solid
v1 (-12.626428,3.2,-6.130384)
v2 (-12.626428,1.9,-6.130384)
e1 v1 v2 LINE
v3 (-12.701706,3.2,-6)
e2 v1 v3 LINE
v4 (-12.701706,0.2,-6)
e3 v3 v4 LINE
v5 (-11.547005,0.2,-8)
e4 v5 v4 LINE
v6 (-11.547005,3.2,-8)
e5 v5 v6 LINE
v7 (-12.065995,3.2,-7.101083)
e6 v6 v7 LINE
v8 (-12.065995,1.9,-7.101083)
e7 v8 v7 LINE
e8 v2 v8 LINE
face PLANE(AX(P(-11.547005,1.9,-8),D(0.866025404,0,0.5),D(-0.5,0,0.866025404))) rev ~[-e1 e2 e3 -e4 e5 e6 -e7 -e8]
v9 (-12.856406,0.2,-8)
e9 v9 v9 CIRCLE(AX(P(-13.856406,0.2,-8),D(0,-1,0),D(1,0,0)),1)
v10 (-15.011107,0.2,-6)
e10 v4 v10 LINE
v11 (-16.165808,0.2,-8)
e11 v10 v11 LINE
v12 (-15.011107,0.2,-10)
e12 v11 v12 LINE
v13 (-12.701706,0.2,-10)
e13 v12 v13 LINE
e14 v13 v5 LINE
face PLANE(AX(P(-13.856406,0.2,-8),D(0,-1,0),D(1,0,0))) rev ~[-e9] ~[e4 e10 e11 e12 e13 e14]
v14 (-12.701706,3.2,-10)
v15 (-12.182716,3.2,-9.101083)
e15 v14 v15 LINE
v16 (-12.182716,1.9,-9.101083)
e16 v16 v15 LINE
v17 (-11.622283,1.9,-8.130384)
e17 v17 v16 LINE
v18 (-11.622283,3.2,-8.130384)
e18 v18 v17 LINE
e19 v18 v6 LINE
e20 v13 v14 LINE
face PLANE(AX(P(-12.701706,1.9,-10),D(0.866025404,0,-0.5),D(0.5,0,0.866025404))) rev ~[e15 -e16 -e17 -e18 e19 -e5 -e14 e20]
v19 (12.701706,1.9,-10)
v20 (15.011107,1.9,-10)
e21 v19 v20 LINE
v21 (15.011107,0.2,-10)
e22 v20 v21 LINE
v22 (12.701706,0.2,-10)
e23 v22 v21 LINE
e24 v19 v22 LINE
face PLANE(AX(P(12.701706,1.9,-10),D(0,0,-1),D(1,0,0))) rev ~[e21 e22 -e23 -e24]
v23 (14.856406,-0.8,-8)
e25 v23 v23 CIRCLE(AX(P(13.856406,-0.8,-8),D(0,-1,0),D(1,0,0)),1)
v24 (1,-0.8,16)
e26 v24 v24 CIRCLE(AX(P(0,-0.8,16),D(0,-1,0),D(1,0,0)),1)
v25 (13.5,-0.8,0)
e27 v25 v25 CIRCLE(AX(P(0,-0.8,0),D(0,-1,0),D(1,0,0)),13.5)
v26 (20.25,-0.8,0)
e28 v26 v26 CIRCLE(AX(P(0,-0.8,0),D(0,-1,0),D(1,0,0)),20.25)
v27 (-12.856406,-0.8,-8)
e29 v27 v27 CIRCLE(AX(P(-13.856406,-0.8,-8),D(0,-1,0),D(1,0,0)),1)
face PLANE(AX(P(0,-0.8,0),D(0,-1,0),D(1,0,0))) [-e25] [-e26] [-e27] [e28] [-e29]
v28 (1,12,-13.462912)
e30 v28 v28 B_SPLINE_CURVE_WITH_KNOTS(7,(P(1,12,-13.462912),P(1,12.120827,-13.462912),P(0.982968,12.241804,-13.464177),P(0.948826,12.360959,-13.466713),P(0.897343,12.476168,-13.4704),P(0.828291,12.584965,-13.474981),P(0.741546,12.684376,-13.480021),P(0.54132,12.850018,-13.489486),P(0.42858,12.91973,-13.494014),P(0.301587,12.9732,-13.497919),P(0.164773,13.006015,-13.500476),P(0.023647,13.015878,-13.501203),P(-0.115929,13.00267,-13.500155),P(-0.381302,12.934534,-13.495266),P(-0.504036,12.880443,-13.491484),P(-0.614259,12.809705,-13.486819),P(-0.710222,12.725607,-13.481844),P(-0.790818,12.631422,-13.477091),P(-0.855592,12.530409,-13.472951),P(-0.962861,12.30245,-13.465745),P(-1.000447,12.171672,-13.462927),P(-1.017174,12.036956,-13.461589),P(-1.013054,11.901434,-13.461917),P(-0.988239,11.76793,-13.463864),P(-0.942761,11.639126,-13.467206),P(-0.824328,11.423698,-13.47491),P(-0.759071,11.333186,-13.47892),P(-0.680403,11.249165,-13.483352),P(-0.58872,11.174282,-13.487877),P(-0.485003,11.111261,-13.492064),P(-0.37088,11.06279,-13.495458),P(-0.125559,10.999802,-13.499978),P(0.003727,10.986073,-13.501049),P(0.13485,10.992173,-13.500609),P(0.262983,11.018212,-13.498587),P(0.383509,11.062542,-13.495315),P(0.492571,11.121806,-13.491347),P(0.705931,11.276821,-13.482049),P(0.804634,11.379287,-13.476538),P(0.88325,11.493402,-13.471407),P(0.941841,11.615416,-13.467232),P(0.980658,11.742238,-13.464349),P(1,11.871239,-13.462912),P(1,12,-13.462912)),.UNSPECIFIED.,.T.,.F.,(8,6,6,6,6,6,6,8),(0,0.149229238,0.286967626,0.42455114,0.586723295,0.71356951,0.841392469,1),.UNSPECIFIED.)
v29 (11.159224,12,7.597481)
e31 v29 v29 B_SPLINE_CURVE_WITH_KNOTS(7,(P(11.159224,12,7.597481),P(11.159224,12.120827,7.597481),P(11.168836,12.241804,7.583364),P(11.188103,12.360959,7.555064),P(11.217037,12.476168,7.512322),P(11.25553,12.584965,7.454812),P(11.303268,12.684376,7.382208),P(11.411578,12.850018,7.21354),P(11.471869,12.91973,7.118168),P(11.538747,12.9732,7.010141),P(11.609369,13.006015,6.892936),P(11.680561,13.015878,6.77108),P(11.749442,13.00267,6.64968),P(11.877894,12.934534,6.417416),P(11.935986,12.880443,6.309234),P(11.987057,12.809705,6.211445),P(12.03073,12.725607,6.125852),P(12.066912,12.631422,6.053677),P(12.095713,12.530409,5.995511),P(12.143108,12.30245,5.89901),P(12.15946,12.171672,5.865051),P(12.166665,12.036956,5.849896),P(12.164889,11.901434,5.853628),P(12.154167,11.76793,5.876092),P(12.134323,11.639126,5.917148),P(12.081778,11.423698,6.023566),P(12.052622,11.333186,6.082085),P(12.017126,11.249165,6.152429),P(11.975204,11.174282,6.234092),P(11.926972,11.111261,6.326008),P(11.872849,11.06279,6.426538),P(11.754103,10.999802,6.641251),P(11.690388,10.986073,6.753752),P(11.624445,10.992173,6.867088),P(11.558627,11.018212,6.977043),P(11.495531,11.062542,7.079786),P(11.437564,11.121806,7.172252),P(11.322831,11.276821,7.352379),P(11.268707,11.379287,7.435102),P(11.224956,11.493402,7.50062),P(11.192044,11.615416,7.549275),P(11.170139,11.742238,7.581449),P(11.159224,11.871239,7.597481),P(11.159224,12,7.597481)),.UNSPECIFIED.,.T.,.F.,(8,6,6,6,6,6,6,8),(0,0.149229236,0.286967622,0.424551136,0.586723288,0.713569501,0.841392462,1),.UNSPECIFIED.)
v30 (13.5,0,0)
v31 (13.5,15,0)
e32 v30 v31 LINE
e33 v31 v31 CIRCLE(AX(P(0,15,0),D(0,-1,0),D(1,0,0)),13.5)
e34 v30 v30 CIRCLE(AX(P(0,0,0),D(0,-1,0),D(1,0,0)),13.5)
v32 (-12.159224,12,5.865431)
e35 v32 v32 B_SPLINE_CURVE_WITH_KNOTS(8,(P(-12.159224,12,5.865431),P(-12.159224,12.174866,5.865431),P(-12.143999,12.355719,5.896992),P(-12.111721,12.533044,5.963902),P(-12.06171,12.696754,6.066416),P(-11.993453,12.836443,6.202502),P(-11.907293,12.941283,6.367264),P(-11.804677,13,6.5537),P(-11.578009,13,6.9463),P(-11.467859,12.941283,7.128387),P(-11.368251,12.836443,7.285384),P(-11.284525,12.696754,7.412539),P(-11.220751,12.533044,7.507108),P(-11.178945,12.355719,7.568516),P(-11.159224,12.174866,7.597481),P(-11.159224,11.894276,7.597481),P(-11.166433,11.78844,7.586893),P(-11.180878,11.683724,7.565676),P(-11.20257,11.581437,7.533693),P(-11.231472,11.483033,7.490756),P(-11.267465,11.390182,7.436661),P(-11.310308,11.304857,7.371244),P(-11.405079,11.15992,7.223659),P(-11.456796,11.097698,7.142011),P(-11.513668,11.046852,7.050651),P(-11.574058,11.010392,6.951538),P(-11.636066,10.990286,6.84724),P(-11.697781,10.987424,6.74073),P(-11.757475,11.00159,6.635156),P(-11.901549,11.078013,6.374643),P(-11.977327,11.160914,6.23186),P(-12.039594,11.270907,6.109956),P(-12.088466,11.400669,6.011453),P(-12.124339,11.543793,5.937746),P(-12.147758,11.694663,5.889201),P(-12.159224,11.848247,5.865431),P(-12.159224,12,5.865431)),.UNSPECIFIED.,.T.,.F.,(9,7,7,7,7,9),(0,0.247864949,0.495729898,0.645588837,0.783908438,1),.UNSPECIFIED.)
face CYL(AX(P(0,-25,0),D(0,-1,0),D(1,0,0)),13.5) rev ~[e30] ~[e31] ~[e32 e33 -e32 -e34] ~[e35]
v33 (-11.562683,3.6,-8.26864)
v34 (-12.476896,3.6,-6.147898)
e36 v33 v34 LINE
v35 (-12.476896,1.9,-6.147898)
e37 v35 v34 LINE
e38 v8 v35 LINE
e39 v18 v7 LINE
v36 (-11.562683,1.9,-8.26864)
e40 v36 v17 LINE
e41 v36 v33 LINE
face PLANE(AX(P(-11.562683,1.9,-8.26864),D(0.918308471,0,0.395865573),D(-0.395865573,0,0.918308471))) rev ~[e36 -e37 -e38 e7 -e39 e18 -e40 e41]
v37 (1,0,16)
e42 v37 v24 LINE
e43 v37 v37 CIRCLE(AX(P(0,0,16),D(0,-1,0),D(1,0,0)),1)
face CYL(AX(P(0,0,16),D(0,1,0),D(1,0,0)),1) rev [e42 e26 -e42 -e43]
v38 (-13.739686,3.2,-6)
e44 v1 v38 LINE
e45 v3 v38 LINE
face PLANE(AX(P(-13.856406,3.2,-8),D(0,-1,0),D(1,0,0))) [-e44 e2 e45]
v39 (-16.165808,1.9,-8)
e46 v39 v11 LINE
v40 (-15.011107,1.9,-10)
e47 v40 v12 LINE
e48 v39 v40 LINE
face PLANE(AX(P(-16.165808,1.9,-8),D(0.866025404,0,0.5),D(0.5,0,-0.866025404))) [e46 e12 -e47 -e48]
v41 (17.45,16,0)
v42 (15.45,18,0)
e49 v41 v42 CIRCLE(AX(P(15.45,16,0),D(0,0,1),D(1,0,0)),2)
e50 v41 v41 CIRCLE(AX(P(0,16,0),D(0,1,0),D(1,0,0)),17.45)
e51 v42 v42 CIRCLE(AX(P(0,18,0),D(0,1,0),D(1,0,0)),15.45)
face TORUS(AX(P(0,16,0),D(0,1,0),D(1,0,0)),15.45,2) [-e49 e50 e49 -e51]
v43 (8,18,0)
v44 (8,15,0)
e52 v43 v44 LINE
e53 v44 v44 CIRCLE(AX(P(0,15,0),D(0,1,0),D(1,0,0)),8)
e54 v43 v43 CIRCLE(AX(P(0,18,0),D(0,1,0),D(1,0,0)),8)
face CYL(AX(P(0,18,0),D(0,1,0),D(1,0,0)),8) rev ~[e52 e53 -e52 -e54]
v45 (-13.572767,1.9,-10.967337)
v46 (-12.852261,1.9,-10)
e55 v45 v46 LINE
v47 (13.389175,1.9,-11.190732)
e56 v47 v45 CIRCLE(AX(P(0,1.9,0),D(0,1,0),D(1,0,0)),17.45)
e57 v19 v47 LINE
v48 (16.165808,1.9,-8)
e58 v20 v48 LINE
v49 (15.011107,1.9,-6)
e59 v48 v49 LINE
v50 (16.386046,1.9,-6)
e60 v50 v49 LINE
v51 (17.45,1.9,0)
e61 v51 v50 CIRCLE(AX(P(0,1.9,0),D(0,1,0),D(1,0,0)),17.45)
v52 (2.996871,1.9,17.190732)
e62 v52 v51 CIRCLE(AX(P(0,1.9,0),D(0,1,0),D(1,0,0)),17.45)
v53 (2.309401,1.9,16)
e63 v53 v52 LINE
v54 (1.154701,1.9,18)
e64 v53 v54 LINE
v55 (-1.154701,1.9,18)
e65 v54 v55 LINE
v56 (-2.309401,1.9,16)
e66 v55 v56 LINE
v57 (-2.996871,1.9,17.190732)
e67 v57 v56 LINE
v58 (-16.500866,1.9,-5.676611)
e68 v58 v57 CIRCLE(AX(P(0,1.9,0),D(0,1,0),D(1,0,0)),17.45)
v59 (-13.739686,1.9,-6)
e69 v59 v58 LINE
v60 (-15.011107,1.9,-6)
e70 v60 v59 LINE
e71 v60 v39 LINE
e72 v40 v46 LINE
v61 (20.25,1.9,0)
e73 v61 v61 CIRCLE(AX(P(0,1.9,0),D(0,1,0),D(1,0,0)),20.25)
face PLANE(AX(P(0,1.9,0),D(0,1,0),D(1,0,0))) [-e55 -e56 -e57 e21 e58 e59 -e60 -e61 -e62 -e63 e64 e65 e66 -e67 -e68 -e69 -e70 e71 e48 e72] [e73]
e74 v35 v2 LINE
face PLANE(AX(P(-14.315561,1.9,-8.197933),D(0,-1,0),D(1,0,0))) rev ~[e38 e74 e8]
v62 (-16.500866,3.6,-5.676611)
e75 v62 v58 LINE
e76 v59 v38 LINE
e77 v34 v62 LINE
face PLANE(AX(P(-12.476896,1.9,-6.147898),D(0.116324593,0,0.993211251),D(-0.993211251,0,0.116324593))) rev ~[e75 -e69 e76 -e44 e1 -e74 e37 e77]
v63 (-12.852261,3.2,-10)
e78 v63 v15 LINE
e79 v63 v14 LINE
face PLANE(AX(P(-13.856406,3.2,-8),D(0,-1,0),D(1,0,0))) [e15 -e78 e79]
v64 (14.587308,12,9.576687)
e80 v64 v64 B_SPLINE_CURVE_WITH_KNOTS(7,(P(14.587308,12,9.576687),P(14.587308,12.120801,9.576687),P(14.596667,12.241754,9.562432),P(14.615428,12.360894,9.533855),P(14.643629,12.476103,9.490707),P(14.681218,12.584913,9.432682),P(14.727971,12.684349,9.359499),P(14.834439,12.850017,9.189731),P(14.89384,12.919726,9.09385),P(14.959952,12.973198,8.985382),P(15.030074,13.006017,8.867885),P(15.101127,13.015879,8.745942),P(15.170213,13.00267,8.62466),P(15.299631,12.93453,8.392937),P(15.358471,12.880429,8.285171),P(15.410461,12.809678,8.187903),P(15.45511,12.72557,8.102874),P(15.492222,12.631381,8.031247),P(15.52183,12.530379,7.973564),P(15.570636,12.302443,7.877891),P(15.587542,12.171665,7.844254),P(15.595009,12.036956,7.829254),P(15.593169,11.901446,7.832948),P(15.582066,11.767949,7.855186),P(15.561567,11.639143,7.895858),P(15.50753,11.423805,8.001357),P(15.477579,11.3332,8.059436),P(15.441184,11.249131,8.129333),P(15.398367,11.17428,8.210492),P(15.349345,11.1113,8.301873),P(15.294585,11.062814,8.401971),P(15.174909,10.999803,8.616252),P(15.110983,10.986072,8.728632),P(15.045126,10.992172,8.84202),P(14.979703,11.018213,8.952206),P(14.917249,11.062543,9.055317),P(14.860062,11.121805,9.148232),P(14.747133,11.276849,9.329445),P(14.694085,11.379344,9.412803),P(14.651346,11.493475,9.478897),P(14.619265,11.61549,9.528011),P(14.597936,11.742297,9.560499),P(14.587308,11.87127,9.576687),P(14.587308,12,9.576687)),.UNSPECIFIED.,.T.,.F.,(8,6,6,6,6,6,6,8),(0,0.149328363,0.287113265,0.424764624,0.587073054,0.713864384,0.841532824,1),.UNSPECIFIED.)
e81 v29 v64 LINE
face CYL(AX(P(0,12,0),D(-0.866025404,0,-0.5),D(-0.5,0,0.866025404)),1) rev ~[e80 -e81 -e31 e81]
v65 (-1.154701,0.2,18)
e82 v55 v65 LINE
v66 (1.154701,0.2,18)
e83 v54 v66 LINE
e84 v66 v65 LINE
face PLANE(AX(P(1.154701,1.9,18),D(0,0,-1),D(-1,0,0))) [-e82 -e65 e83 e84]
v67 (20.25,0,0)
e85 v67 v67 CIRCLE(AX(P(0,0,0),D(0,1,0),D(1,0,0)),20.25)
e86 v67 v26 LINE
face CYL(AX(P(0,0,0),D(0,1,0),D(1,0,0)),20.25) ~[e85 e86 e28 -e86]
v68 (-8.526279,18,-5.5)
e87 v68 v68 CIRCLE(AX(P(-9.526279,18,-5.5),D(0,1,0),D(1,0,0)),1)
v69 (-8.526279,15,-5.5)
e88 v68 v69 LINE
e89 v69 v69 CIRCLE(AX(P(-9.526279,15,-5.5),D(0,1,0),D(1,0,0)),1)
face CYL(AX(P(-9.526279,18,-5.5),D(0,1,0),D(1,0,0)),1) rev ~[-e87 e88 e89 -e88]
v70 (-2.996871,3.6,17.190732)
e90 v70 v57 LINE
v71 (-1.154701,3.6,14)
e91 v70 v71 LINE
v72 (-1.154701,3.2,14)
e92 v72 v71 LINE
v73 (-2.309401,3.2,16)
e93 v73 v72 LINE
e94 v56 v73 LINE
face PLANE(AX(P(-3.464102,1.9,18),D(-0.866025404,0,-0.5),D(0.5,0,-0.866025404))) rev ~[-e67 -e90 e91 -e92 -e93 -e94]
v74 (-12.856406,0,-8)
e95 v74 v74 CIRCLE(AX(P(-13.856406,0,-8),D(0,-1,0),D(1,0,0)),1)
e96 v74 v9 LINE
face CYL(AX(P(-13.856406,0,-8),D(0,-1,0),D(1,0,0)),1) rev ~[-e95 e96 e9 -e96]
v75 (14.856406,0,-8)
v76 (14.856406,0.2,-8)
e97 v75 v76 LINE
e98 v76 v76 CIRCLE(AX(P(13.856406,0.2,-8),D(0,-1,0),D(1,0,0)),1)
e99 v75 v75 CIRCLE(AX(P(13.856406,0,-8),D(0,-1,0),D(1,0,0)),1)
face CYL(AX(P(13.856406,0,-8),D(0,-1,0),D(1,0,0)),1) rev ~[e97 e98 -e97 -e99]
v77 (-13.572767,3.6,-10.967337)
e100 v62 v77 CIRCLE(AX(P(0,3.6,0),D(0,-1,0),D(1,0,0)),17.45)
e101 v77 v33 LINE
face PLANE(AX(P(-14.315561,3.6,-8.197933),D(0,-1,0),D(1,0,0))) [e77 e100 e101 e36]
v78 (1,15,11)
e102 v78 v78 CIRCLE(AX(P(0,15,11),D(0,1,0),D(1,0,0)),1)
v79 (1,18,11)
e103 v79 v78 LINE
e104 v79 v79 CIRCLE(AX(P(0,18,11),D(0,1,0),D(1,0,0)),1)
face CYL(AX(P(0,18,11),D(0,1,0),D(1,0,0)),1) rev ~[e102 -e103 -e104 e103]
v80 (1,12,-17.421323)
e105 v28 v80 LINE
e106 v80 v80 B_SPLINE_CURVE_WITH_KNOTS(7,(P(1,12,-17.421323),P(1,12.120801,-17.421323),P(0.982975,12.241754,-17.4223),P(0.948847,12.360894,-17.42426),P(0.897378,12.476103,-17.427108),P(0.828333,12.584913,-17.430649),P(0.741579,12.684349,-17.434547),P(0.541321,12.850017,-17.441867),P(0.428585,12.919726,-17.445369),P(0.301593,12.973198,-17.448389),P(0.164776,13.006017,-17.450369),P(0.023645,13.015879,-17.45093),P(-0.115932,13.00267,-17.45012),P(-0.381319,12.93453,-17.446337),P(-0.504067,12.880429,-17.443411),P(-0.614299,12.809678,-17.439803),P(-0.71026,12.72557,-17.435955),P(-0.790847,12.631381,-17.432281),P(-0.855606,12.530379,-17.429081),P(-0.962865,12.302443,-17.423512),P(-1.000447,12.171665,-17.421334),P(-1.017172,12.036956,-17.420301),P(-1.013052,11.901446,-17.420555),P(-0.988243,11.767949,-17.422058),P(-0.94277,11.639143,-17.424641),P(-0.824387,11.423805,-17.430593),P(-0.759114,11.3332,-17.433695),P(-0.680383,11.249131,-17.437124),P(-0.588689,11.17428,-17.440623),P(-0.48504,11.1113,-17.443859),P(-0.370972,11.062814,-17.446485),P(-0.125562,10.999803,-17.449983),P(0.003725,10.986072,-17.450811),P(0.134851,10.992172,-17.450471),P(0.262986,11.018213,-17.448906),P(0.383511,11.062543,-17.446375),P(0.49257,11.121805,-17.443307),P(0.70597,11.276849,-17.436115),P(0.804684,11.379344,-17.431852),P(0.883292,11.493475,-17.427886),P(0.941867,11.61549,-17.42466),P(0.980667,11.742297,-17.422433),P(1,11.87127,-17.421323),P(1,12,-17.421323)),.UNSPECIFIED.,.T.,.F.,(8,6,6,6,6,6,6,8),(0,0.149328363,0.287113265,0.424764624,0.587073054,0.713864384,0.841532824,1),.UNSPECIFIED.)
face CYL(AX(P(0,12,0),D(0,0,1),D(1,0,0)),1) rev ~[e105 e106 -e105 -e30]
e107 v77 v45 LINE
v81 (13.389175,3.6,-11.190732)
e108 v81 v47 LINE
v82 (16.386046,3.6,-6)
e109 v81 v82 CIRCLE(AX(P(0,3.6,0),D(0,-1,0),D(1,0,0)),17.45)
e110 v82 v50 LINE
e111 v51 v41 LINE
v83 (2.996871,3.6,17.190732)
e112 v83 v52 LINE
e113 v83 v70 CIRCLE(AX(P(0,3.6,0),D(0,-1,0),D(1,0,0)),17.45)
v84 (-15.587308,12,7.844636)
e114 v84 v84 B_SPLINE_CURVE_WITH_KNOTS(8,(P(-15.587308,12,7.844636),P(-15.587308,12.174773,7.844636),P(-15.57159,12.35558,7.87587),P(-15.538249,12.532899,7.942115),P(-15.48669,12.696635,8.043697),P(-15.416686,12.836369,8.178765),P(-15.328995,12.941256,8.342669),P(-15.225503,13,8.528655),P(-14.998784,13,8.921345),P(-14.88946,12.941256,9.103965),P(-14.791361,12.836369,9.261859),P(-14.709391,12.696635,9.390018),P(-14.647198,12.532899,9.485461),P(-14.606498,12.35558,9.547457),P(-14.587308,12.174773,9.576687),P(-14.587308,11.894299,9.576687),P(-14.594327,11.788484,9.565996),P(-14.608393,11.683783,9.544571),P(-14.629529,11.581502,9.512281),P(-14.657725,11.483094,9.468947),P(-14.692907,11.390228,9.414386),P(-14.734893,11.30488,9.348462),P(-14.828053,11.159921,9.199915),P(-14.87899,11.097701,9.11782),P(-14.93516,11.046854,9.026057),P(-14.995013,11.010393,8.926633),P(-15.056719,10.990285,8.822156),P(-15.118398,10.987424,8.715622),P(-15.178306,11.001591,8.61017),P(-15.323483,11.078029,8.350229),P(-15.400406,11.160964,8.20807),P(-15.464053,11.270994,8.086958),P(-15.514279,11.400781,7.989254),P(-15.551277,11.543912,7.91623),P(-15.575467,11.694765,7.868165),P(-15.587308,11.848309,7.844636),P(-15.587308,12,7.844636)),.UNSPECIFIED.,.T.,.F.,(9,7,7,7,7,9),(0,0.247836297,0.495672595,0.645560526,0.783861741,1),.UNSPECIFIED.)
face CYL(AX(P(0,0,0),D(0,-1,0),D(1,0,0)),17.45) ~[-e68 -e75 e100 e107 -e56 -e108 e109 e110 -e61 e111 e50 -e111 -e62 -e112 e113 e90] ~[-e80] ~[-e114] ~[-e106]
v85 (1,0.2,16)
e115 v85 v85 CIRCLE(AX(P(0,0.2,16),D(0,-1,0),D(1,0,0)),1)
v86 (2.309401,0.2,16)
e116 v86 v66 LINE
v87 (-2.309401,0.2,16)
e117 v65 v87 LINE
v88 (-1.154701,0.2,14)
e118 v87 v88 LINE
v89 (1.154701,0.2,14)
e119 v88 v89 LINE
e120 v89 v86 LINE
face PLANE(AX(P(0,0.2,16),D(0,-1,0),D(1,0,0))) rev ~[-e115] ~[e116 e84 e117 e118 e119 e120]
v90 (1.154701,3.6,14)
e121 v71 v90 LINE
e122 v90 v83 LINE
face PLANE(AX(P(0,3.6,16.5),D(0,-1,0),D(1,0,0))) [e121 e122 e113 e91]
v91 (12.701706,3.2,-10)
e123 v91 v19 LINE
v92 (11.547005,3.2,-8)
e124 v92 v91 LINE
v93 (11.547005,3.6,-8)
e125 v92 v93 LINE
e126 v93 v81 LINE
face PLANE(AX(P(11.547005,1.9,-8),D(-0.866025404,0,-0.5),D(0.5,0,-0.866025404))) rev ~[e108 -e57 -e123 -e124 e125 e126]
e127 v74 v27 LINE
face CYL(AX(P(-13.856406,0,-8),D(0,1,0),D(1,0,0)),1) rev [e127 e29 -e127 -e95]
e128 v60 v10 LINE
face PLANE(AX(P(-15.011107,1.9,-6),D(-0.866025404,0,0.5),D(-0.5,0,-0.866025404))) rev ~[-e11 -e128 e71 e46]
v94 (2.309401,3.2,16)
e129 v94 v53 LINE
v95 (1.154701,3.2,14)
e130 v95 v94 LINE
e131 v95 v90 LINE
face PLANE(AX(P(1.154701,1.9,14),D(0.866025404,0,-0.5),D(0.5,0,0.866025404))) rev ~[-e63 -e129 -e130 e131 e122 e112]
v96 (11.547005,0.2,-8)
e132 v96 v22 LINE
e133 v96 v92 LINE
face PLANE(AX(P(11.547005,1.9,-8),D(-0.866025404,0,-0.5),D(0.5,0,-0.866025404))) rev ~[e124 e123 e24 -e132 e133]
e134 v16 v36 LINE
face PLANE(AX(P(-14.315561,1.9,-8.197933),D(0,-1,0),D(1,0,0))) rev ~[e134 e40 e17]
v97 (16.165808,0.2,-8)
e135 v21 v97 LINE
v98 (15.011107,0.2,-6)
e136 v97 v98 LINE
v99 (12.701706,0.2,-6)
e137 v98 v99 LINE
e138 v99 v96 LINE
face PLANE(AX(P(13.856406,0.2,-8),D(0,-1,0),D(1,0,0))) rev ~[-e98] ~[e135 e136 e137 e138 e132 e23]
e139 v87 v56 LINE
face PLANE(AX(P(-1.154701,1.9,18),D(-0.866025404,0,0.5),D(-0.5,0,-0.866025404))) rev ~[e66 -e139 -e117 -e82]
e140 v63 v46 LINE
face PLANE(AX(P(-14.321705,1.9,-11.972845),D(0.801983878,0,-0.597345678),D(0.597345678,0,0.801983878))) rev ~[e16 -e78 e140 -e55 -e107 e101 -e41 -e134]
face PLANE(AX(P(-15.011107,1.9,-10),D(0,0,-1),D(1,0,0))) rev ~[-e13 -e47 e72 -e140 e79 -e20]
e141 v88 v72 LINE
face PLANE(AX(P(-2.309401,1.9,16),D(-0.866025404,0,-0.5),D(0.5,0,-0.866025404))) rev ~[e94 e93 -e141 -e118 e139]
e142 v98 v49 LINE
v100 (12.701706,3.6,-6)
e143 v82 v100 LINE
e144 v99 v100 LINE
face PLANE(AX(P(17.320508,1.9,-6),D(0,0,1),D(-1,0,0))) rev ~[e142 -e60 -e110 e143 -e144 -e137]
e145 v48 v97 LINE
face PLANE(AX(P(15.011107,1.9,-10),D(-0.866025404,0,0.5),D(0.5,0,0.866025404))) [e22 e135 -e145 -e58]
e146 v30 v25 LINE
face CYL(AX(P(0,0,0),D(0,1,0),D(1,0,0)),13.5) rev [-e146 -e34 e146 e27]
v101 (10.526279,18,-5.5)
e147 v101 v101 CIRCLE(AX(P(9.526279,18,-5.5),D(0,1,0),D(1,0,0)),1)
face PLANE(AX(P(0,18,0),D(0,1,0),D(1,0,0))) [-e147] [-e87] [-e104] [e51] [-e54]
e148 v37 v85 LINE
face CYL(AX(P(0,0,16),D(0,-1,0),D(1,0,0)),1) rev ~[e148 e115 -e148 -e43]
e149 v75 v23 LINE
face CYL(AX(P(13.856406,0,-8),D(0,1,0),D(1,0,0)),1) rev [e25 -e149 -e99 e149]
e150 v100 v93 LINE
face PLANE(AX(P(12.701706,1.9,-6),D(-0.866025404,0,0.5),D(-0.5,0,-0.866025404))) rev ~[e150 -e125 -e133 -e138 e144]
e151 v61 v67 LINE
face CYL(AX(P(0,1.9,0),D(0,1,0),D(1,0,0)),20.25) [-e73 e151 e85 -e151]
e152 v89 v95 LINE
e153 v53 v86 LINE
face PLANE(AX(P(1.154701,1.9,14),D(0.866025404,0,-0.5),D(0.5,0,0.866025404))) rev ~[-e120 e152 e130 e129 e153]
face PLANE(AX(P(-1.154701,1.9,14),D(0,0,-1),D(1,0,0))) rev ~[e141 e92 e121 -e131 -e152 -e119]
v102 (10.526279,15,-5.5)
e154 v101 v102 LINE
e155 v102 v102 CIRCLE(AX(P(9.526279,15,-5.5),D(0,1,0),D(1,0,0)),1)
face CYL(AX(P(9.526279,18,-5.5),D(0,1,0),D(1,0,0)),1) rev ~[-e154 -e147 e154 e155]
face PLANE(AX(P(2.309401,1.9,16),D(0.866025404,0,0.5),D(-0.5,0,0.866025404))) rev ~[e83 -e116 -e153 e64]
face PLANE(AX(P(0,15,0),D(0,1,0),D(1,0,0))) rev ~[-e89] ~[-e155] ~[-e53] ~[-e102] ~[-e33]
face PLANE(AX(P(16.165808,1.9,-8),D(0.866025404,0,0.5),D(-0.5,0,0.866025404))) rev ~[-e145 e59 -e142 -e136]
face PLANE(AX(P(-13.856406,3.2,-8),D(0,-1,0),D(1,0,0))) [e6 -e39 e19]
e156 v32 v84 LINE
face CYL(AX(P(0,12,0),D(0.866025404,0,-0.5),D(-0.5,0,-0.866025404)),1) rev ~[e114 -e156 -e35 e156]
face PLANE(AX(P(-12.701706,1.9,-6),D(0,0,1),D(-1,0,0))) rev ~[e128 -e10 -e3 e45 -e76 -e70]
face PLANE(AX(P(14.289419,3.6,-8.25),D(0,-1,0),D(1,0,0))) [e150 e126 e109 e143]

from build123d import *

# Parameters (mm, degrees)
SKETCH1_R                = 17.45
SKETCH1_R_2              = 12.45
BOSS_EXTRUDE1_DEPTH      = 8
BOSS_EXTRUDE1_DEPTH_BACK = 25
SKETCH1_2_R              = 17.45
SKETCH1_2_R_2            = 12.45
BOSS_EXTRUDE3_DEPTH      = 18
SKETCH3_R                = 12.45
SKETCH3_R_2              = 8
BOSS_EXTRUDE4_DEPTH      = 3
SKETCH4_R                = 1
CUT_EXTRUDE1_DEPTH       = 10
SKETCH6_R                = 13.5
CUT_EXTRUDE2_DEPTH       = 40
SKETCH7_R                = 1
CUT_EXTRUDE3_DEPTH       = 21
CIRPATTERN1_COUNT        = 3
BOSS_EXTRUDE5_START      = -16.1
SKETCH8_R                = 20.25
SKETCH8_R_2              = 13.5
BOSS_EXTRUDE5_DEPTH      = 3
FILLET1_R                = 2
SKETCH9_W                = 226.458017819
SKETCH9_H                = 42.937005292
CUT_EXTRUDE4_DEPTH       = 34
CUT_EXTRUDE4_DEPTH_BACK  = 62
CUT_EXTRUDE5_START       = -1.9
CUT_EXTRUDE5_DEPTH       = 1.7
CUT_EXTRUDE5_DEPTH_BACK  = 1.3
SKETCH11_R               = 1
CUT_EXTRUDE6_DEPTH       = 3
CUT_EXTRUDE7_START       = -1.9
CUT_EXTRUDE7_DEPTH       = 1.7
SKETCH14_R               = 20.25
SKETCH14_R_2             = 1
SKETCH14_R_3             = 13.5
BOSS_EXTRUDE6_DEPTH      = 0.8


with BuildPart() as part:
    # Sketch1 → Boss-Extrude1 (new body, two sides)
    with BuildSketch(Plane(origin=(0, 0, 0), x_dir=(1, 0, 0), z_dir=(0, 1, 0))) as boss_extrude1_sk:
        Circle(SKETCH1_R)
        Circle(SKETCH1_R_2, mode=Mode.SUBTRACT)
    extrude(amount=BOSS_EXTRUDE1_DEPTH)
    extrude(boss_extrude1_sk.sketch, amount=-BOSS_EXTRUDE1_DEPTH_BACK)

    # Sketch1<2> → Boss-Extrude3 (add)
    with BuildSketch(Plane(origin=(0, 0, 0), x_dir=(1, 0, 0), z_dir=(0, 1, 0))):
        Circle(SKETCH1_2_R)
        Circle(SKETCH1_2_R_2, mode=Mode.SUBTRACT)
    extrude(amount=BOSS_EXTRUDE3_DEPTH)

    # Sketch3 → Boss-Extrude4 (add)
    with BuildSketch(Plane(origin=(0, 18, 0), x_dir=(1, 0, 0), z_dir=(0, 1, 0))):
        Circle(SKETCH3_R)
        Circle(SKETCH3_R_2, mode=Mode.SUBTRACT)
    extrude(amount=-BOSS_EXTRUDE4_DEPTH)

    # Sketch4 → Cut-Extrude1 (cut)
    with BuildSketch(Plane(origin=(0, 18, 0), x_dir=(1, 0, 0), z_dir=(0, 1, 0))):
        with Locations((9.526279442, 5.5)):
            Circle(SKETCH4_R)
        with Locations((-9.526279442, 5.5)):
            Circle(SKETCH4_R)
        with Locations((0, -11)):
            Circle(SKETCH4_R)
    extrude(amount=-CUT_EXTRUDE1_DEPTH, mode=Mode.SUBTRACT)

    # Sketch6 → Cut-Extrude2 (cut)
    with BuildSketch(Plane.XZ.offset(25)):
        Circle(SKETCH6_R)
    extrude(amount=-CUT_EXTRUDE2_DEPTH, mode=Mode.SUBTRACT)

    # Sketch7 → Cut-Extrude3 (cut)
    with BuildSketch(Plane.XY):
        with Locations((0, 12)):
            Circle(SKETCH7_R)
    cut_extrude3 = extrude(amount=-CUT_EXTRUDE3_DEPTH, mode=Mode.SUBTRACT)

    # CirPattern1: Cut-Extrude3 ×3 about axis
    cirpattern1_axis = Axis((0, 53.183766184, 0), (0, -1, 0))
    for i in range(1, CIRPATTERN1_COUNT):
        add(cut_extrude3.rotate(cirpattern1_axis, i * 360 / CIRPATTERN1_COUNT), mode=Mode.SUBTRACT)

    # Sketch8 → Boss-Extrude5 (add)
    with BuildSketch(Plane(origin=(0, 18, 0), x_dir=(1, 0, 0), z_dir=(0, 1, 0)).offset(BOSS_EXTRUDE5_START)):
        Circle(SKETCH8_R)
        Circle(SKETCH8_R_2, mode=Mode.SUBTRACT)
    extrude(amount=-BOSS_EXTRUDE5_DEPTH)

    # Fillet1
    fillet1_edges = [part.edges().sort_by_distance(p)[0] for p in [
        (-17.45, 18, 0),
    ]]
    fillet(fillet1_edges, radius=FILLET1_R)

    # Sketch9 → Cut-Extrude4 (cut, two sides)
    with BuildSketch(Plane(origin=(0, 0, 0), x_dir=(0, 0, -1), z_dir=(1, 0, 0))) as cut_extrude4_sk:
        with Locations((-4.854722567, -21.468502646)):
            Rectangle(SKETCH9_W, SKETCH9_H)
    extrude(amount=CUT_EXTRUDE4_DEPTH, mode=Mode.SUBTRACT)
    extrude(cut_extrude4_sk.sketch, amount=-CUT_EXTRUDE4_DEPTH_BACK, mode=Mode.SUBTRACT)

    # Sketch10 → Cut-Extrude5 (cut, two sides)
    with BuildSketch(Plane.XZ.offset(CUT_EXTRUDE5_START)) as cut_extrude5_sk:
        Polygon((12.701705922, -10), (15.011106999, -10), (16.165807537, -8), (15.011106999, -6), (12.701705922, -6), (11.547005384, -8), align=None)
        Polygon((-15.011106999, -6), (-16.165807537, -8), (-15.011106999, -10), (-12.701705922, -10), (-11.547005384, -8), (-12.701705922, -6), align=None)
        Polygon((-1.154700538, 18), (-2.309401077, 16), (-1.154700538, 14), (1.154700538, 14), (2.309401077, 16), (1.154700538, 18), align=None)
    extrude(amount=CUT_EXTRUDE5_DEPTH, mode=Mode.SUBTRACT)
    extrude(cut_extrude5_sk.sketch, amount=-CUT_EXTRUDE5_DEPTH_BACK, mode=Mode.SUBTRACT)

    # Sketch11 → Cut-Extrude6 (cut)
    with BuildSketch(Plane.XZ):
        with Locations((0, 16)):
            Circle(SKETCH11_R)
        with Locations((13.856406461, -8)):
            Circle(SKETCH11_R)
        with Locations((-13.856406461, -8)):
            Circle(SKETCH11_R)
    extrude(amount=-CUT_EXTRUDE6_DEPTH, mode=Mode.SUBTRACT)

    # Sketch13 → Cut-Extrude7 (cut)
    with BuildSketch(Plane.XZ.offset(CUT_EXTRUDE7_START)):
        Polygon((13.856406461, -12), (17.320508076, -6), (12.701705922, -6), (11.547005384, -8), align=None)
        Polygon((-17.064341974, -5.610617289), (-14.321704831, -11.972845004), (-11.562683328, -8.268640139), (-12.476895709, -6.147897568), align=None)
        Polygon((-3.464101615, 18), (-1.154700538, 14), (1.154700538, 14), (3.464101615, 18), align=None)
    extrude(amount=-CUT_EXTRUDE7_DEPTH, mode=Mode.SUBTRACT)

    # Sketch14 → Boss-Extrude6 (add)
    with BuildSketch(Plane.XZ):
        Circle(SKETCH14_R)
        with Locations((0, 16)):
            Circle(SKETCH14_R_2, mode=Mode.SUBTRACT)
        with Locations((13.856406461, -8)):
            Circle(SKETCH14_R_2, mode=Mode.SUBTRACT)
        with Locations((-13.856406461, -8)):
            Circle(SKETCH14_R_2, mode=Mode.SUBTRACT)
        Circle(SKETCH14_R_3, mode=Mode.SUBTRACT)
    extrude(amount=BOSS_EXTRUDE6_DEPTH)


solid = part.part
